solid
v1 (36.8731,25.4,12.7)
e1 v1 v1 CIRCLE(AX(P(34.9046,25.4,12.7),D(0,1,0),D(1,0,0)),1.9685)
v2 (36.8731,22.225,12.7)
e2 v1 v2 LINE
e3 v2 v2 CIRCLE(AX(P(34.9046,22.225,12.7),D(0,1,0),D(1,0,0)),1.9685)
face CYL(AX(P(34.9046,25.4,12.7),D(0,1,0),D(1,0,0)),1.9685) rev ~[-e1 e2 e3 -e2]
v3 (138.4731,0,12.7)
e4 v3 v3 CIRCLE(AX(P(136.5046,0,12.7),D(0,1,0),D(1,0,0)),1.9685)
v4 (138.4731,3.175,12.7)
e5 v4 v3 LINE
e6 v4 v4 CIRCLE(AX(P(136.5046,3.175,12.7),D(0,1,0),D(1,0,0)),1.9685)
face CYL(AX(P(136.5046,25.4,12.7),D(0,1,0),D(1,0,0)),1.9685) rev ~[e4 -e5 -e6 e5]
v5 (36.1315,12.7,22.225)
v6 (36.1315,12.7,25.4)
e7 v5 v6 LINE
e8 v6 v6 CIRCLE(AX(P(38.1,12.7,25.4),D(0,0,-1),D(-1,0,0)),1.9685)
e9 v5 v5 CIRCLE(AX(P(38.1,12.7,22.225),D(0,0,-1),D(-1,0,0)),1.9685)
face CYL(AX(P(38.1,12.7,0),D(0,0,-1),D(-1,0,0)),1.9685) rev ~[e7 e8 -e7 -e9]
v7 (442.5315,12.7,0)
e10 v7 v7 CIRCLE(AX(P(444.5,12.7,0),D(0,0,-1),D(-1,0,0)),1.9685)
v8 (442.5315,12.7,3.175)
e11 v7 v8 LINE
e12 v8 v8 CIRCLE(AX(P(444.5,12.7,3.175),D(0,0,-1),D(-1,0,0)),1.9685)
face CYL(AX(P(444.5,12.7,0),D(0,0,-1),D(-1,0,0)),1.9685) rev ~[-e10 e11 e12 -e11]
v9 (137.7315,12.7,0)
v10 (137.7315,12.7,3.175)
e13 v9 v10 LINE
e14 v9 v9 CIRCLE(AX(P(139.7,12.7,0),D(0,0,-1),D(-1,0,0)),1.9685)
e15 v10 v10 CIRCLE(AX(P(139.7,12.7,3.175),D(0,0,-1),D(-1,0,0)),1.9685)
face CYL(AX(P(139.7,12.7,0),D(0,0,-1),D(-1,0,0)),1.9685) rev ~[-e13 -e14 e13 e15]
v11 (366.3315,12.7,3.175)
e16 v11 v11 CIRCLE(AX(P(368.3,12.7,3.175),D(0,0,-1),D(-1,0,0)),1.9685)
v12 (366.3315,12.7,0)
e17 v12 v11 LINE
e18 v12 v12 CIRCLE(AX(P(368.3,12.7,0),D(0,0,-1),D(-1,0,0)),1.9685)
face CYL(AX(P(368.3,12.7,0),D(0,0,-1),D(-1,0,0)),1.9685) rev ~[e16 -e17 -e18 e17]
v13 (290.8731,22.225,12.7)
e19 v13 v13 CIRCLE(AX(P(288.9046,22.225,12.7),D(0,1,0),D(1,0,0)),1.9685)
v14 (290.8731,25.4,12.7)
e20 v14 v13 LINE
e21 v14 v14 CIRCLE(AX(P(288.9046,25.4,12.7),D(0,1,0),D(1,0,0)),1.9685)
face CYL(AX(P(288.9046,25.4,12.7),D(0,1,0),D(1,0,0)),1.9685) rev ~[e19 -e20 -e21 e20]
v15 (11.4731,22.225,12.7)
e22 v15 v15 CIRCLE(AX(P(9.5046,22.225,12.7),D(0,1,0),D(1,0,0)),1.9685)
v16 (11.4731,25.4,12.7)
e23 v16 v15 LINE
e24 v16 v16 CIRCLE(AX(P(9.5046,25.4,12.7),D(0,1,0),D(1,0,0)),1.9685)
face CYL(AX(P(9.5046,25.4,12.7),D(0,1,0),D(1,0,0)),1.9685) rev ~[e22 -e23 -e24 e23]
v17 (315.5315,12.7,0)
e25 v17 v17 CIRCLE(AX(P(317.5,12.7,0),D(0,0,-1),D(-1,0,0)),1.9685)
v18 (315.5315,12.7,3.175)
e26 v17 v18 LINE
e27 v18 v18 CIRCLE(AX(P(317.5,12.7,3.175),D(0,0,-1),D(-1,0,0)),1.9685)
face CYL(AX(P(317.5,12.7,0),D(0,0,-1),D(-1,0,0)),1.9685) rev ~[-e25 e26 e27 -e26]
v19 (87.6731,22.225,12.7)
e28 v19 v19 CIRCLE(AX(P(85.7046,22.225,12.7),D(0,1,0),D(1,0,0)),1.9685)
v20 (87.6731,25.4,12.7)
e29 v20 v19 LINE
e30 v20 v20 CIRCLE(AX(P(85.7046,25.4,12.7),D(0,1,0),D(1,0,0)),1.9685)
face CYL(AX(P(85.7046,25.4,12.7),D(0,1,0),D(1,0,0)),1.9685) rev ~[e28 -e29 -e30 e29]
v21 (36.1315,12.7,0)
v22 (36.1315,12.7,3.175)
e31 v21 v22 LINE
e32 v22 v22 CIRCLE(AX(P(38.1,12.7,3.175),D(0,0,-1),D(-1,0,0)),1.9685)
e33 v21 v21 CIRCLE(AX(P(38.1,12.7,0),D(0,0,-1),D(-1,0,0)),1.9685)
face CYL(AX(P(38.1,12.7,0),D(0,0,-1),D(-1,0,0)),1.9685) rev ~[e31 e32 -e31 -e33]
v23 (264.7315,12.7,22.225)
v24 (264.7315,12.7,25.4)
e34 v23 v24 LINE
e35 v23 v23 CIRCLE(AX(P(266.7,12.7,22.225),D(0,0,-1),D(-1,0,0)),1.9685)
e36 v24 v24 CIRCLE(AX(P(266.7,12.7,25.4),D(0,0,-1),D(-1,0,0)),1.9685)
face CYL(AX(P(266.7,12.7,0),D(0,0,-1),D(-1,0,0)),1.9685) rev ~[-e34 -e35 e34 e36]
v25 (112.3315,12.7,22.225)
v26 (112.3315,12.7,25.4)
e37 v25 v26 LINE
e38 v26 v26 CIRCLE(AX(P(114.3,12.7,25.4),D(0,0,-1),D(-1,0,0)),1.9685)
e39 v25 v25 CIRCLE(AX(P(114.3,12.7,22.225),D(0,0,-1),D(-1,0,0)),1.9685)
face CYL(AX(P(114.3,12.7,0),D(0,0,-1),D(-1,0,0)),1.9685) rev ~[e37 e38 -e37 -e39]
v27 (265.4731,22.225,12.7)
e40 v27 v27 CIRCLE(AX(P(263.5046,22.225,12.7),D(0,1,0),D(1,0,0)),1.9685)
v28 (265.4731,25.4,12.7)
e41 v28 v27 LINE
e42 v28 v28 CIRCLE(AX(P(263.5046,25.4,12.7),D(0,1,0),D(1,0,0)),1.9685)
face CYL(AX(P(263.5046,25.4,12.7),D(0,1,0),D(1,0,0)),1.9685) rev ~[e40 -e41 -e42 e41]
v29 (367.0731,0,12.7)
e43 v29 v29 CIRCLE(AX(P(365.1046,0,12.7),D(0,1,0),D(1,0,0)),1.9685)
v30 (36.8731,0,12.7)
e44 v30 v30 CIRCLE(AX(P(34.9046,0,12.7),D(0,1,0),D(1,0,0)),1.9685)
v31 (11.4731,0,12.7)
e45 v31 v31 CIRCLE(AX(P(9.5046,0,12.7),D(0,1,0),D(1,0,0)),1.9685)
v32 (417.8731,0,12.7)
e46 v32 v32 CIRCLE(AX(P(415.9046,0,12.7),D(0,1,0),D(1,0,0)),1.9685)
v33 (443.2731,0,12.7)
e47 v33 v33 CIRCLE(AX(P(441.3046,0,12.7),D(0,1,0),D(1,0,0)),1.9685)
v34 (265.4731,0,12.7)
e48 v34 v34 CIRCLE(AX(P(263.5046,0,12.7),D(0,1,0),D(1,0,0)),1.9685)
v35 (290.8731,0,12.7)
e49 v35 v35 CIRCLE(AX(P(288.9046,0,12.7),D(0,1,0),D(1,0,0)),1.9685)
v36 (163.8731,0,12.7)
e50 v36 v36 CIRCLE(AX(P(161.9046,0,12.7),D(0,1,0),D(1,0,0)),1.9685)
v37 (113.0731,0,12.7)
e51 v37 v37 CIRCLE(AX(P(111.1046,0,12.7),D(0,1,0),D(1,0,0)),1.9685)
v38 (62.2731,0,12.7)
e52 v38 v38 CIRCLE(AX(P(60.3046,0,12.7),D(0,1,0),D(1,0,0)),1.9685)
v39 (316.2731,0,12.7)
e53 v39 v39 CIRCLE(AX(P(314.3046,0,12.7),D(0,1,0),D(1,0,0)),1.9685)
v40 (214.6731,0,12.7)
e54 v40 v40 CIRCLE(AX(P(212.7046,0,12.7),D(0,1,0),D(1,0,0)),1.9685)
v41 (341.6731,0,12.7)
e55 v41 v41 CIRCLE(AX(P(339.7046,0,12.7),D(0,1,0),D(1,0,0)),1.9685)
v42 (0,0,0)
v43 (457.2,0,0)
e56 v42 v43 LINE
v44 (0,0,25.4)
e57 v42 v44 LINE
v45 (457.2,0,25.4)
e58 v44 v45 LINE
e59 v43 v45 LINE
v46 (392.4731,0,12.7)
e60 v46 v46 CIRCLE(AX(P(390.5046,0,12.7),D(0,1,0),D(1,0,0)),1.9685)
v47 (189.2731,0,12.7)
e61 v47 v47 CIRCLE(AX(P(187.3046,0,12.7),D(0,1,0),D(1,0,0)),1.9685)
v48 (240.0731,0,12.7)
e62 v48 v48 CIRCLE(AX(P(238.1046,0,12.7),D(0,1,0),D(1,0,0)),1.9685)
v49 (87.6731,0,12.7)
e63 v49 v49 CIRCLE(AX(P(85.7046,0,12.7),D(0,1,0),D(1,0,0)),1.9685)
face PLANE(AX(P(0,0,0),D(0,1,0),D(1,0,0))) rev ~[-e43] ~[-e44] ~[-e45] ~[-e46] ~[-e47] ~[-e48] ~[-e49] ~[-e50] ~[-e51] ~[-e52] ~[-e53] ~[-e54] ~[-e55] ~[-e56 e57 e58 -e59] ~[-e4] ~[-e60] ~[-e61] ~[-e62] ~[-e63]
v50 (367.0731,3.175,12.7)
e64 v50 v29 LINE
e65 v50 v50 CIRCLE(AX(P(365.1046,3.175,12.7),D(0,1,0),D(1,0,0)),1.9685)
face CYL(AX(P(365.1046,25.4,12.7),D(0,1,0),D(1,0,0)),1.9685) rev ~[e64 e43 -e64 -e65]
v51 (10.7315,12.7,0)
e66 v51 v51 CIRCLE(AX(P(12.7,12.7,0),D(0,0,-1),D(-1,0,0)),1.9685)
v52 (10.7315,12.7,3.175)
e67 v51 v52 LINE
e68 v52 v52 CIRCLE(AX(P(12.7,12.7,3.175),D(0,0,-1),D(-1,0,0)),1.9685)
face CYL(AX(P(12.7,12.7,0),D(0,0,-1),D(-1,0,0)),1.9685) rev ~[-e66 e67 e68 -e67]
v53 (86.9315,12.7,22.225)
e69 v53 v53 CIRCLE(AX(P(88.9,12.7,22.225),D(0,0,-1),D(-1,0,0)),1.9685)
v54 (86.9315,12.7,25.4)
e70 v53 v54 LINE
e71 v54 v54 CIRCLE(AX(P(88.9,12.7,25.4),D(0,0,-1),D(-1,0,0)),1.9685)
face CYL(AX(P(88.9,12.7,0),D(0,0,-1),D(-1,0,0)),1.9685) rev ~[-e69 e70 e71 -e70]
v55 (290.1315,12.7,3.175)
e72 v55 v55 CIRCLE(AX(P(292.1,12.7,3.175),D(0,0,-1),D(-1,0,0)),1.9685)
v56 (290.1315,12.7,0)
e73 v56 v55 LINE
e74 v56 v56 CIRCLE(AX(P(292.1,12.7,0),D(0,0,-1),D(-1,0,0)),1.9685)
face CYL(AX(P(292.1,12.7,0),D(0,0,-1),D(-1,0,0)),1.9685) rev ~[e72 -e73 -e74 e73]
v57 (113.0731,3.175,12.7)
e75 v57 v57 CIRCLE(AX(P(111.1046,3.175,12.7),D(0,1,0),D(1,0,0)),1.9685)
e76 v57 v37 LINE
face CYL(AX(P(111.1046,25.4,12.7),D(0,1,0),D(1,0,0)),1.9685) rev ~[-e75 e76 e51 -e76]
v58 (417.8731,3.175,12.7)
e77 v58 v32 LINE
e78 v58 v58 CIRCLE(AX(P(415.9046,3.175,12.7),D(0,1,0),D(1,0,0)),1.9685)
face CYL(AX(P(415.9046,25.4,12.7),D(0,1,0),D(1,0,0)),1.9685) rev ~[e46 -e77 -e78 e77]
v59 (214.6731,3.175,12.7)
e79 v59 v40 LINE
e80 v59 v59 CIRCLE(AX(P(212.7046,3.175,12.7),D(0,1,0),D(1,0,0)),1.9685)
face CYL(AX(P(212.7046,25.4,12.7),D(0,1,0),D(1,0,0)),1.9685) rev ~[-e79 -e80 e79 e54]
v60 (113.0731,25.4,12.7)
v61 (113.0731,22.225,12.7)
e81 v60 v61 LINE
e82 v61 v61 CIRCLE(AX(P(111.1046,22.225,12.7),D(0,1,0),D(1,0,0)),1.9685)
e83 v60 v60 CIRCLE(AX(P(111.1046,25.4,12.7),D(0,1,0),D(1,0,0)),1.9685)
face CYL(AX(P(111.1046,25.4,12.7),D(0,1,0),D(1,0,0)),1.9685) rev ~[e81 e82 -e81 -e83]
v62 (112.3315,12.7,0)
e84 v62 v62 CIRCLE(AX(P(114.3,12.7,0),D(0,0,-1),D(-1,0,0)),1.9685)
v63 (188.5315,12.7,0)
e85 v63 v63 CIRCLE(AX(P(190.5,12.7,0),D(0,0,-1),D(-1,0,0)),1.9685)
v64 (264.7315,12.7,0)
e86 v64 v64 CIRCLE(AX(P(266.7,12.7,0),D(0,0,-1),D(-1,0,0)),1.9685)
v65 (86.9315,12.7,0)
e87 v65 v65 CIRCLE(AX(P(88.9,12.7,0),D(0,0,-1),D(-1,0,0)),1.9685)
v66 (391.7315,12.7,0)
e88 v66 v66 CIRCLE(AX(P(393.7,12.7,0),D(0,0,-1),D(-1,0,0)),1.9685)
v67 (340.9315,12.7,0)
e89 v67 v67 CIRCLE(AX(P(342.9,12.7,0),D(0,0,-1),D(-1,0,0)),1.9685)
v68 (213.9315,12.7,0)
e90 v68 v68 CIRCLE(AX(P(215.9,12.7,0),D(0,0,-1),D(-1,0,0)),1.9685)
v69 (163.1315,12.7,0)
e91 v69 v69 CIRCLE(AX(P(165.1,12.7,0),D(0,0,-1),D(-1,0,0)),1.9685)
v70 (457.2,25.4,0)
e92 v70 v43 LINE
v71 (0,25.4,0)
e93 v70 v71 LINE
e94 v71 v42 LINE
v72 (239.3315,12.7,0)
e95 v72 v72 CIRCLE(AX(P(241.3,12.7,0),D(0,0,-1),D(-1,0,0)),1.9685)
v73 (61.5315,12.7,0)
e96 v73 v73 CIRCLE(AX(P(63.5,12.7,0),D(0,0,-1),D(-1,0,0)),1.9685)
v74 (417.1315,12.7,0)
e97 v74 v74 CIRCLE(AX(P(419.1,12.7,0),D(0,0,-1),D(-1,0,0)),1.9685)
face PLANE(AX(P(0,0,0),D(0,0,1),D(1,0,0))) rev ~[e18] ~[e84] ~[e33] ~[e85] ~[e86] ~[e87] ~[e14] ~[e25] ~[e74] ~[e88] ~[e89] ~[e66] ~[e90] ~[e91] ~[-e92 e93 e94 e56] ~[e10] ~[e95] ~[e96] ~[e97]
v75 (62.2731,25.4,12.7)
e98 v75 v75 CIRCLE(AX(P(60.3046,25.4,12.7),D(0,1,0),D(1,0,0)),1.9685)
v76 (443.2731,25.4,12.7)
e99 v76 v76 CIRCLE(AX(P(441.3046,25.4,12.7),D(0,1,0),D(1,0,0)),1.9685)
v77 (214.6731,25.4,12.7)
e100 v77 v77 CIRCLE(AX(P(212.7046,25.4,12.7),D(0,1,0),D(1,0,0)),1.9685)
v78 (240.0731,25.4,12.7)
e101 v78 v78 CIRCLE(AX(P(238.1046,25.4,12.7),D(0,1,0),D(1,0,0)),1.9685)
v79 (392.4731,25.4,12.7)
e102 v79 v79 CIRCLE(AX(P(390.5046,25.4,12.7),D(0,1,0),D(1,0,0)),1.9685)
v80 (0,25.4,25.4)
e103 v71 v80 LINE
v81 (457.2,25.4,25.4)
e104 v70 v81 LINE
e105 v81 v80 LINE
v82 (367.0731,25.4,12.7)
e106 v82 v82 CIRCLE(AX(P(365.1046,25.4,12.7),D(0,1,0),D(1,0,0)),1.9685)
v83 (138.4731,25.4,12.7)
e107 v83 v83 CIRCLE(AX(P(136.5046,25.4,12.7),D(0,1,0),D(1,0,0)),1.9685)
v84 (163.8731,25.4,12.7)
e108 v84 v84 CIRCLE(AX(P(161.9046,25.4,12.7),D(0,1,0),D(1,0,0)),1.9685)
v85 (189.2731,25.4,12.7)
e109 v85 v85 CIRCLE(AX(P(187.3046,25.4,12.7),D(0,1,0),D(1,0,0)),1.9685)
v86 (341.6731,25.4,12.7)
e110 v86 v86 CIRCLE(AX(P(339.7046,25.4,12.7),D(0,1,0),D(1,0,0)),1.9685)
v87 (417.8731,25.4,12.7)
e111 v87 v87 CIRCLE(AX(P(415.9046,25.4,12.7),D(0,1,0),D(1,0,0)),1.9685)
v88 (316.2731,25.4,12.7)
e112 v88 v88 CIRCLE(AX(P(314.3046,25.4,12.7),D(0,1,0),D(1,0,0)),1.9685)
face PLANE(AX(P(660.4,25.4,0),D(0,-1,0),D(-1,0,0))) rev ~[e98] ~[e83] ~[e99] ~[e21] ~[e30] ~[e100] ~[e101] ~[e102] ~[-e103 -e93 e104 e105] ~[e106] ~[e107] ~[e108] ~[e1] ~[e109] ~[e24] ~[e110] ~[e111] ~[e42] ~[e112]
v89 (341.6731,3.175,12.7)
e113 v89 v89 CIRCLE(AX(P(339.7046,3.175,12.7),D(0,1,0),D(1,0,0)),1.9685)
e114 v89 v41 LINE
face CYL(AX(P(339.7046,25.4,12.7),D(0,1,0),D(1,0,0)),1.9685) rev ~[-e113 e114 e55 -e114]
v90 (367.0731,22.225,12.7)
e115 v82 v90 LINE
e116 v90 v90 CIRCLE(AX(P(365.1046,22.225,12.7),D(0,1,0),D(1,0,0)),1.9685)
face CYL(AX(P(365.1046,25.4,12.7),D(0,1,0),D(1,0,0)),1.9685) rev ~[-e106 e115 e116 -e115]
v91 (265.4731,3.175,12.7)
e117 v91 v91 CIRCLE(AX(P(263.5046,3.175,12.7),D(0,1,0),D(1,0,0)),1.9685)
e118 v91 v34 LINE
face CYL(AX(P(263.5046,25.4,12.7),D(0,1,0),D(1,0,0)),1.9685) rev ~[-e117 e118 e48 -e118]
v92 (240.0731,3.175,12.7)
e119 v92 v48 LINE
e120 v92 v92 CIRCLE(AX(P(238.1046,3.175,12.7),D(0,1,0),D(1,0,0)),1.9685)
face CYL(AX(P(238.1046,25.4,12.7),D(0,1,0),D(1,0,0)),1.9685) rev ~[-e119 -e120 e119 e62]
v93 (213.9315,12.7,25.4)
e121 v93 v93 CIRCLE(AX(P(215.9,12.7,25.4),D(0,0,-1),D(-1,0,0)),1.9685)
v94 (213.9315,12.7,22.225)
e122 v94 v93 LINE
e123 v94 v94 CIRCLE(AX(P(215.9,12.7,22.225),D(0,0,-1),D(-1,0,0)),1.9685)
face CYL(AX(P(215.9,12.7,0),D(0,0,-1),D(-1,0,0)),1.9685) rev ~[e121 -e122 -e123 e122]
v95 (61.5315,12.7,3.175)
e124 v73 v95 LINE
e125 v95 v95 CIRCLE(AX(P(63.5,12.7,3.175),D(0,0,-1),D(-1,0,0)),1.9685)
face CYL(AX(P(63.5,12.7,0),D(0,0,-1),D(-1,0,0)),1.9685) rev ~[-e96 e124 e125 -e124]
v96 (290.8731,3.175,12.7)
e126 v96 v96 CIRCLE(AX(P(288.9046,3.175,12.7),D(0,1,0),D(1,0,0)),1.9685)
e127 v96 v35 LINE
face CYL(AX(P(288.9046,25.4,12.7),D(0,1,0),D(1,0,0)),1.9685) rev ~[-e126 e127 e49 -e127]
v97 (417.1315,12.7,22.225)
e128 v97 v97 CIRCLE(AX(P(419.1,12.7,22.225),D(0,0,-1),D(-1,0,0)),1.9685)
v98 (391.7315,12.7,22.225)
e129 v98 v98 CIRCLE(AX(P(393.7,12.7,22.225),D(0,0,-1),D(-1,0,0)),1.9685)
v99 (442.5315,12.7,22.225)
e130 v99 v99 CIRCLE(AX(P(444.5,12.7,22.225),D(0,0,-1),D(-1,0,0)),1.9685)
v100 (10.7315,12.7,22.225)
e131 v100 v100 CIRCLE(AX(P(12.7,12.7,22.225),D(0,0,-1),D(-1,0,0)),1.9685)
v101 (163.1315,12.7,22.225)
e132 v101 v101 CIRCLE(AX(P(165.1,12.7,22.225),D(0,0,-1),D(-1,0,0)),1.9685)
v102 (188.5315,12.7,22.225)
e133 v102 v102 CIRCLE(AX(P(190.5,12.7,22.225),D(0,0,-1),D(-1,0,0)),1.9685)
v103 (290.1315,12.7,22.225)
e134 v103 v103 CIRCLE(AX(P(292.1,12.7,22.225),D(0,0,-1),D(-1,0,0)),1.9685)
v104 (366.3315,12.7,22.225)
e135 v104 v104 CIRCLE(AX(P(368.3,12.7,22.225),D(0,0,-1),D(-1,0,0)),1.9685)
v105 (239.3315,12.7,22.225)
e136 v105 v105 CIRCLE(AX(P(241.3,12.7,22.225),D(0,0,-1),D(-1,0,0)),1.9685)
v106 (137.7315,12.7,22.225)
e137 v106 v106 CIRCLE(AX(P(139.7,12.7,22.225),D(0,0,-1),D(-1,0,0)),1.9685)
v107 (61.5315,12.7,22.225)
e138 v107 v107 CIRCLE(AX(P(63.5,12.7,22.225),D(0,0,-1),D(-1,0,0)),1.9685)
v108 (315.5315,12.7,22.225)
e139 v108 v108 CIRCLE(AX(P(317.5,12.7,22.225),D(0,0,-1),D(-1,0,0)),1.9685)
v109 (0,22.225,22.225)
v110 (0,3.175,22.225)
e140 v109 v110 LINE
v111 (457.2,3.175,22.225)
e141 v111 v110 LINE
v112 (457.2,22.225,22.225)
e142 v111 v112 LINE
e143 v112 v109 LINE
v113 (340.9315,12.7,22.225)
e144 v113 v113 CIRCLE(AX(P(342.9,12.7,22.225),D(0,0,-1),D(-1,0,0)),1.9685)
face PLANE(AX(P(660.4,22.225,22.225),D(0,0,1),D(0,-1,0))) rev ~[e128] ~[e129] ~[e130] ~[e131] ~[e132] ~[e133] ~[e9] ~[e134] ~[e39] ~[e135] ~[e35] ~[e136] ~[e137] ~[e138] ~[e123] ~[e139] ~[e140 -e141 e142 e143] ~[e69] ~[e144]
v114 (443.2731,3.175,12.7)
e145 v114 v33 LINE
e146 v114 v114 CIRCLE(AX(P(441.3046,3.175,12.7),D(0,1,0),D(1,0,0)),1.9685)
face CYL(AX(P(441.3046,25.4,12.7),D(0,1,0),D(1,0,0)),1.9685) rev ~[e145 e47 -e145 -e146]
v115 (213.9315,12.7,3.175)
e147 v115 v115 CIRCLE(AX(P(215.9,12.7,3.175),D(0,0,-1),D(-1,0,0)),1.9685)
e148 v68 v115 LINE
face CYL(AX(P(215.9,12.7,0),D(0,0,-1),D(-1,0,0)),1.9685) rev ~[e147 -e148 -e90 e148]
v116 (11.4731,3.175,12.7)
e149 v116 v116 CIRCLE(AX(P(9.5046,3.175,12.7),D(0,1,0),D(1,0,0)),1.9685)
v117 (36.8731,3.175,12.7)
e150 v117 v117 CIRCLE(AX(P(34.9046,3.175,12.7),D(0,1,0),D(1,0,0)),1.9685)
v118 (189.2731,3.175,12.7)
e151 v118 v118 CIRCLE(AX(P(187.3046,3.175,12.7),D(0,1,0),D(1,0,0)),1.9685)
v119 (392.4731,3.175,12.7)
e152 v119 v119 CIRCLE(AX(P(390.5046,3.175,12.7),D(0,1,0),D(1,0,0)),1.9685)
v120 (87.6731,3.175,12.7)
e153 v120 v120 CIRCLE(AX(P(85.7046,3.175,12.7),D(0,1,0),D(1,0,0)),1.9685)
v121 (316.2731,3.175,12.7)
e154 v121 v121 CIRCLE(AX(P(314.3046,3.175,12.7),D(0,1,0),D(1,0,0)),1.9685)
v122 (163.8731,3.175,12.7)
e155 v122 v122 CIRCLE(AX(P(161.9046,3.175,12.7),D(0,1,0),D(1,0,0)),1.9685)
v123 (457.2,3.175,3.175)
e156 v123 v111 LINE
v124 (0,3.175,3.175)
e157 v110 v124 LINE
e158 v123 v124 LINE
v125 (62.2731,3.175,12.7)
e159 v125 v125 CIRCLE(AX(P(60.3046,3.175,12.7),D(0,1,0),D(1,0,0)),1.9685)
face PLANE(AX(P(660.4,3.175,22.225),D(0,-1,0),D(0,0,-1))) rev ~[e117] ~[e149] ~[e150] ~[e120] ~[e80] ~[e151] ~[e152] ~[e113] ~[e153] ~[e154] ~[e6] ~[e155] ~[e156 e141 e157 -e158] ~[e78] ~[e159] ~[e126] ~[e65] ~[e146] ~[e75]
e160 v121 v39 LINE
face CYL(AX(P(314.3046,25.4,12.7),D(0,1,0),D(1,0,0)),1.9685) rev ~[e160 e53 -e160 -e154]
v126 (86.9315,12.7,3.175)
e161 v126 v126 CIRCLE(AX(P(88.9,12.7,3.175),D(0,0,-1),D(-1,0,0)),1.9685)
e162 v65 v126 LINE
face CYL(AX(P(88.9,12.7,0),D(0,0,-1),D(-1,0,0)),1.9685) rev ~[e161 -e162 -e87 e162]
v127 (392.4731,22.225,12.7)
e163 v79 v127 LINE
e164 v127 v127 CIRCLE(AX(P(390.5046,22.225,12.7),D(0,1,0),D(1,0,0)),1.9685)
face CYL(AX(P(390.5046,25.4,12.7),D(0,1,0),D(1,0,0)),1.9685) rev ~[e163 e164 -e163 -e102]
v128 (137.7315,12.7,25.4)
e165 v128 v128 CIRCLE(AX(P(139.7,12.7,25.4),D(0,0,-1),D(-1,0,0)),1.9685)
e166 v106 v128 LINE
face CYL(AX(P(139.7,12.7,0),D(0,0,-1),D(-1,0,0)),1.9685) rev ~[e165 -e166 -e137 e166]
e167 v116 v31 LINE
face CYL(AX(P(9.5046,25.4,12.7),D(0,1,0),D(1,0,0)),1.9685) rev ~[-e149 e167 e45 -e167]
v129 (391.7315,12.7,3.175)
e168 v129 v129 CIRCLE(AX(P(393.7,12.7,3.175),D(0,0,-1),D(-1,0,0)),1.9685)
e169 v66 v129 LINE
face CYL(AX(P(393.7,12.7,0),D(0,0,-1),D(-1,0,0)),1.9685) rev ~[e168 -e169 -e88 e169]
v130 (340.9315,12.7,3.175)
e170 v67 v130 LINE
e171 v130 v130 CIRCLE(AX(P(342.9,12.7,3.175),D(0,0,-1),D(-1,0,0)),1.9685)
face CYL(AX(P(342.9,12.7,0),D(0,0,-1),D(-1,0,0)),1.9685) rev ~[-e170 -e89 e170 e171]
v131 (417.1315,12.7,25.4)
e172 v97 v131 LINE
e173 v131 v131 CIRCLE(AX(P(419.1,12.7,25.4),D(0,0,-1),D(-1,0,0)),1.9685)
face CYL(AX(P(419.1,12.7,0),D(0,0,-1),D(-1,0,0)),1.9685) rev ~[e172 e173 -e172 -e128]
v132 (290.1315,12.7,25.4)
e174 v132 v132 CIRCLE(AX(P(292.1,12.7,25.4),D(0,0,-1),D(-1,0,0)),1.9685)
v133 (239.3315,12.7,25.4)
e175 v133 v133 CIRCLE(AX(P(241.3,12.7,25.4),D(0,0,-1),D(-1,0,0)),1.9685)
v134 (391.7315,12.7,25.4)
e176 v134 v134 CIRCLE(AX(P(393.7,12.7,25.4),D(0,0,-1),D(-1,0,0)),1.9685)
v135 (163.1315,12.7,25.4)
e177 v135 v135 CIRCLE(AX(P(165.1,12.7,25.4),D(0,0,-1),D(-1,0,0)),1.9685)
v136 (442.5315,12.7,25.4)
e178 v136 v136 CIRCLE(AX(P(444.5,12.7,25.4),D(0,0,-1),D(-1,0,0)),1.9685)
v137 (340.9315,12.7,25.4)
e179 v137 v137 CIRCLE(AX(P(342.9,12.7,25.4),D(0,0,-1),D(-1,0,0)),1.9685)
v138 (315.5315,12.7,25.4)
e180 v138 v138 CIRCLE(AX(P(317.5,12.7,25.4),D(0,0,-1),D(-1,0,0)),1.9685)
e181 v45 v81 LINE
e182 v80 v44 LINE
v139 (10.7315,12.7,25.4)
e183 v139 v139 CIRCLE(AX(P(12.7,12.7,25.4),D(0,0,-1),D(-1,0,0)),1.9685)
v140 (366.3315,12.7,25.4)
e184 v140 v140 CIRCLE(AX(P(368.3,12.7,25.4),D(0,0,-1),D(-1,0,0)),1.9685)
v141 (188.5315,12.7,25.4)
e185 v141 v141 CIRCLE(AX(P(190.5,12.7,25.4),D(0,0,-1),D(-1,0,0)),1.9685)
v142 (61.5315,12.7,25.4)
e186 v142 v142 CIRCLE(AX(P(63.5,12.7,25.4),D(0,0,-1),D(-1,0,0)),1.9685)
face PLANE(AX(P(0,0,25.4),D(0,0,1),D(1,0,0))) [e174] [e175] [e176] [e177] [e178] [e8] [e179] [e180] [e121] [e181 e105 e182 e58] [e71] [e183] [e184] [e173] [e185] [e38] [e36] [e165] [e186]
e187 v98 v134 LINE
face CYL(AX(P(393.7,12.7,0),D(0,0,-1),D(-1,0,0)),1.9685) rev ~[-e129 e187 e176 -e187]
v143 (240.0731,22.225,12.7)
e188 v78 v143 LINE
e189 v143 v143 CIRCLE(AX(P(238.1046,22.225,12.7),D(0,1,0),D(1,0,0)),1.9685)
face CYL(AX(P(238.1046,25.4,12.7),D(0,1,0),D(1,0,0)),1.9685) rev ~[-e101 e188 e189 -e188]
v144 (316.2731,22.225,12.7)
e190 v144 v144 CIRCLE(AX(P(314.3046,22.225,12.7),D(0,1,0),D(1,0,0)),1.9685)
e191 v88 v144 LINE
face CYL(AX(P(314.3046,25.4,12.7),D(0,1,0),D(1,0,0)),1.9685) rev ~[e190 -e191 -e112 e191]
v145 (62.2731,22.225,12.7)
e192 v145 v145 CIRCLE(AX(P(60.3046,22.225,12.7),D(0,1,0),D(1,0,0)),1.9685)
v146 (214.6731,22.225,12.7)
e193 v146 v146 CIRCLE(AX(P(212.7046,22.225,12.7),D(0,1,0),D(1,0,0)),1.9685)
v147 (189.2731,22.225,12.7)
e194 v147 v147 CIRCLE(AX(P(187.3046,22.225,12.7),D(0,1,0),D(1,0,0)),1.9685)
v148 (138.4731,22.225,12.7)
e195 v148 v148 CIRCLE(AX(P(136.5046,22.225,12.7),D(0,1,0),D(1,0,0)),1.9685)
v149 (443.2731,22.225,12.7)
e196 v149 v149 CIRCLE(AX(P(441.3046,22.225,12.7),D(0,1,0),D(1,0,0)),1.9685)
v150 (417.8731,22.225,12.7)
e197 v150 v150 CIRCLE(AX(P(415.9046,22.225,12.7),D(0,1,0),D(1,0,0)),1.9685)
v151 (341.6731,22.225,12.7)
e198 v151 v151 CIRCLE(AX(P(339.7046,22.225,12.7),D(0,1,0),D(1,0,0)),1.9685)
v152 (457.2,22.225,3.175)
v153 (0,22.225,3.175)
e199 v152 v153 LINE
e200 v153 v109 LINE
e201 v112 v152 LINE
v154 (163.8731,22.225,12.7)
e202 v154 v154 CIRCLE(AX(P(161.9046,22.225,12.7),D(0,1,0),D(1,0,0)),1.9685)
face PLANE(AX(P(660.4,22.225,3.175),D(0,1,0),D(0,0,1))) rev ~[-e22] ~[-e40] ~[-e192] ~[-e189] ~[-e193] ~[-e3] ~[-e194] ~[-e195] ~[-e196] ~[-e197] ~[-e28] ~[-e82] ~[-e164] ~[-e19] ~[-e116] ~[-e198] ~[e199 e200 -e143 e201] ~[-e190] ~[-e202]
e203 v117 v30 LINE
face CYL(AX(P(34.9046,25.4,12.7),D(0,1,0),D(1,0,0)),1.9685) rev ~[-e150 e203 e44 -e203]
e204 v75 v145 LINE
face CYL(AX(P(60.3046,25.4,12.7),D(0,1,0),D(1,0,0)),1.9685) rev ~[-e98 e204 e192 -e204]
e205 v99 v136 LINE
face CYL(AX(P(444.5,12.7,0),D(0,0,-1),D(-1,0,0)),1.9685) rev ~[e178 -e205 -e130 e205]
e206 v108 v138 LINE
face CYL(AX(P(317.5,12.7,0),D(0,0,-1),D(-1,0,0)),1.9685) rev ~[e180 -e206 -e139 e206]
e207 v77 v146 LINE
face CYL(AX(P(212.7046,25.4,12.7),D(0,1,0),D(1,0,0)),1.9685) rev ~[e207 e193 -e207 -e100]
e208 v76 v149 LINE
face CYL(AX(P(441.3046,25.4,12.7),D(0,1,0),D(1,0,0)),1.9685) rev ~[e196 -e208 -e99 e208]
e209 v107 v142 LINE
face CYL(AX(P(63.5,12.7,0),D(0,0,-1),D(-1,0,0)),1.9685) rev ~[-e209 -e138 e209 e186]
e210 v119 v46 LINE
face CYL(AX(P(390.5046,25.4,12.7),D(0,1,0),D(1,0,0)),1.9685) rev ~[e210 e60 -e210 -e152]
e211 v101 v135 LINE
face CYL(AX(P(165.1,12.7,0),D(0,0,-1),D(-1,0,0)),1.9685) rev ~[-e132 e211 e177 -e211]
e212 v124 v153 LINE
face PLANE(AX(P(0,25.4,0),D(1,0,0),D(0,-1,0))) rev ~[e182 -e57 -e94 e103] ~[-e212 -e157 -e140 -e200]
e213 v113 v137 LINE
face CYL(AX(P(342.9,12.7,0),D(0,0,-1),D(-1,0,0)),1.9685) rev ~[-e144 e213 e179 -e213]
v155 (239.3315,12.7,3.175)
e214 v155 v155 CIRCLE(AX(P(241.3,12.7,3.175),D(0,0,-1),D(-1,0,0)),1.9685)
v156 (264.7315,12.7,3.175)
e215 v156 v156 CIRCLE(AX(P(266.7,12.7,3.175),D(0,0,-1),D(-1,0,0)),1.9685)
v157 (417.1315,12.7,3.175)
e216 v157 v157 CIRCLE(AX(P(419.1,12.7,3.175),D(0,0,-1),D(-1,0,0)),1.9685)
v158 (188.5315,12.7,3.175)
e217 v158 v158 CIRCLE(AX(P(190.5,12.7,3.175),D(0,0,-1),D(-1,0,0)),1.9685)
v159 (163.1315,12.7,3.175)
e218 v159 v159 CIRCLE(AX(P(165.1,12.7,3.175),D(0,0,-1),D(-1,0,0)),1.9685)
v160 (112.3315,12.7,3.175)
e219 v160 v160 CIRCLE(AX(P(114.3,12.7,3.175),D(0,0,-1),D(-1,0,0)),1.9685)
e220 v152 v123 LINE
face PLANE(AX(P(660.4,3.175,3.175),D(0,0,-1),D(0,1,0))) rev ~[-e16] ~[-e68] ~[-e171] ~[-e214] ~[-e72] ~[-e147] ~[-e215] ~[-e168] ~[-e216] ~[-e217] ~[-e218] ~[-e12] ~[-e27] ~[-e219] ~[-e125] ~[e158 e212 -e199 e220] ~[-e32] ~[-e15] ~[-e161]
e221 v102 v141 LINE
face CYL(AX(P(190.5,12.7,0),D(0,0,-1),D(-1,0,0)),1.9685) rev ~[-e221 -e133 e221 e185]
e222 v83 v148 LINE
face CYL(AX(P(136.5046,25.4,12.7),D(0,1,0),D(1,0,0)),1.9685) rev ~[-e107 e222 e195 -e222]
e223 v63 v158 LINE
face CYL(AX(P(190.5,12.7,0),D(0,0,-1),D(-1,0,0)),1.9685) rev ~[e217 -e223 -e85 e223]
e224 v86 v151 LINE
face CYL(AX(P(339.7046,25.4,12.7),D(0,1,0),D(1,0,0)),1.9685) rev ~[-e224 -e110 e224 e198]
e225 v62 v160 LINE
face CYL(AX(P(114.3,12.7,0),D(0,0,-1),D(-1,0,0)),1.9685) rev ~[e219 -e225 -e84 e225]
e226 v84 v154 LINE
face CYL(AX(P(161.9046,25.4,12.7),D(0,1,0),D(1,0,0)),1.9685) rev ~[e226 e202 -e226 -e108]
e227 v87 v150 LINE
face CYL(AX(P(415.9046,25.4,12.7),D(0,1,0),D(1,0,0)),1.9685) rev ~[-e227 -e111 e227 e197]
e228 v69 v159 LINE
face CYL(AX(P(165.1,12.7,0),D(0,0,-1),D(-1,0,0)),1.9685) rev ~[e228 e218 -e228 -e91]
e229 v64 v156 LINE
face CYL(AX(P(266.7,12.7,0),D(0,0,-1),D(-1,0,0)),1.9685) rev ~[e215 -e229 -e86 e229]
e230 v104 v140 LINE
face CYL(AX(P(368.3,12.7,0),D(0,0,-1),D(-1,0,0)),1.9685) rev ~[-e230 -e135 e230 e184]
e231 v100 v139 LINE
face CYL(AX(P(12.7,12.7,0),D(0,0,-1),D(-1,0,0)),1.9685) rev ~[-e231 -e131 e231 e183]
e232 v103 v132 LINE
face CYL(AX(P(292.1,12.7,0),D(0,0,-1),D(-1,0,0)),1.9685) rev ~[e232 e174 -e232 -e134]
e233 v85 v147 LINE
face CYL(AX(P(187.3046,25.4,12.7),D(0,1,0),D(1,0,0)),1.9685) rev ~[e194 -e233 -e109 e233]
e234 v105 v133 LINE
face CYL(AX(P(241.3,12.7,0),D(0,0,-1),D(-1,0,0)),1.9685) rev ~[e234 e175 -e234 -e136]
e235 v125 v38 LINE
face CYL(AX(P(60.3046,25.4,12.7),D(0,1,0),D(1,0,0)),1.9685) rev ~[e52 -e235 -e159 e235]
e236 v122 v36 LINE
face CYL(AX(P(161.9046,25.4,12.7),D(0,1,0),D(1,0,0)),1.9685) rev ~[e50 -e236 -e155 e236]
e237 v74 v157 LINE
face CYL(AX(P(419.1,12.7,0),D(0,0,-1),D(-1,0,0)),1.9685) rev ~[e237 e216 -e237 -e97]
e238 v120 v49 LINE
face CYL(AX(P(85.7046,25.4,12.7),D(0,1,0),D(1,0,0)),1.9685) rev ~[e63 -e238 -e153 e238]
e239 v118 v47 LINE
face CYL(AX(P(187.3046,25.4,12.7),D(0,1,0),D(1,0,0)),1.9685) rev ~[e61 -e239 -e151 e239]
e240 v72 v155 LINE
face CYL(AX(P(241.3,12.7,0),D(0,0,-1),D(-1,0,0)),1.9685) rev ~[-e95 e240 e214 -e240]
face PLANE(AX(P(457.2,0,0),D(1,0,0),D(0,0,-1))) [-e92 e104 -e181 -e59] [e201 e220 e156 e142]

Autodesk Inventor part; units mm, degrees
ref_plane "YZ Plane" through (0, 0, 0) normal (1, 0, 0) x (0, 1, 0)
ref_plane "XZ Plane" through (0, 0, 0) normal (0, 1, 0) x (-1, 0, 0)
ref_plane "XY Plane" through (0, 0, 0) normal (0, 0, 1) x (1, 0, 0)
sketch "Sketch1" plane through (0, 0, 0) normal (0, 0, 1) x (1, 0, 0)
  line L0 (0, 0) -> (660.4, 0)
  line L1 (660.4, 0) -> (660.4, 25.4)
  line L2 (660.4, 25.4) -> (0, 25.4)
  line L3 (0, 25.4) -> (0, 0)
  dimension "d0" = 660.4
  dimension "d1" = 25.4
extrude "Extrusion1" add sketch "Sketch1" along normal blind 25.4
sketch "Sketch2" plane through (0, 25.4, 0) normal (0, 1, 0) x (1, 0, 0)
  circle A0 centre (9.5046, -12.7) radius 1.9685
  line L0 (660.4, 0) -> (0, 0) projected
  circle A1 centre (34.9046, -12.7) radius 1.9685
  circle A2 centre (60.3046, -12.7) radius 1.9685
  circle A3 centre (85.7046, -12.7) radius 1.9685
  circle A4 centre (111.1046, -12.7) radius 1.9685
  circle A5 centre (136.5046, -12.7) radius 1.9685
  circle A6 centre (161.9046, -12.7) radius 1.9685
  circle A7 centre (187.3046, -12.7) radius 1.9685
  circle A8 centre (212.7046, -12.7) radius 1.9685
  circle A9 centre (238.1046, -12.7) radius 1.9685
  circle A10 centre (263.5046, -12.7) radius 1.9685
  circle A11 centre (288.9046, -12.7) radius 1.9685
  circle A12 centre (314.3046, -12.7) radius 1.9685
  circle A13 centre (339.7046, -12.7) radius 1.9685
  circle A14 centre (365.1046, -12.7) radius 1.9685
  circle A15 centre (390.5046, -12.7) radius 1.9685
  circle A16 centre (415.9046, -12.7) radius 1.9685
  circle A17 centre (441.3046, -12.7) radius 1.9685
  circle A18 centre (466.7046, -12.7) radius 1.9685
  circle A19 centre (492.1046, -12.7) radius 1.9685
  circle A20 centre (517.5046, -12.7) radius 1.9685
  circle A21 centre (542.9046, -12.7) radius 1.9685
  circle A22 centre (568.3046, -12.7) radius 1.9685
  circle A23 centre (593.7046, -12.7) radius 1.9685
  circle A24 centre (619.1046, -12.7) radius 1.9685
  circle A25 centre (644.5046, -12.7) radius 1.9685
  dimension "d4" = 3.937
  dimension "d5" = 12.7
  dimension "d8" = 25.4
extrude "Extrusion2" cut sketch "Sketch2" against normal blind 25.4
sketch "Sketch3" plane through (660.4, 0, 0) normal (1, 0, 0) x (0, 0, -1)
  line L0 (-3.175, 22.225) -> (-22.225, 22.225)
  line L1 (-22.225, 22.225) -> (-22.225, 3.175)
  line L2 (-22.225, 3.175) -> (-3.175, 3.175)
  line L3 (-3.175, 3.175) -> (-3.175, 22.225)
  line L4 (0, 25.4) -> (-25.4, 25.4) projected
  line L5 (0, 0) -> (0, 25.4) projected
  line L6 (0, 0) -> (-25.4, 0) projected
  line L7 (-25.4, 0) -> (-25.4, 25.4) projected
  dimension "d15" = 3.175
  dimension "d16" = 3.175
  dimension "d17" = 3.175
  dimension "d18" = 3.175
extrude "Extrusion3" cut sketch "Sketch3" against normal blind 660.4 contours L3 L2 L1 L0
sketch "Sketch4" plane through (0, 0, 0) normal (0, 0, -1) x (-1, 0, 0)
  circle A0 centre (-12.7, 12.7) radius 1.9685
  line L0 (-660.4, 25.4) -> (0, 25.4) projected
  line L1 (0, 25.4) -> (0, 0) projected
  circle A1 centre (-38.1, 12.7) radius 1.9685
  circle A2 centre (-63.5, 12.7) radius 1.9685
  circle A3 centre (-88.9, 12.7) radius 1.9685
  circle A4 centre (-114.3, 12.7) radius 1.9685
  circle A5 centre (-139.7, 12.7) radius 1.9685
  circle A6 centre (-165.1, 12.7) radius 1.9685
  circle A7 centre (-190.5, 12.7) radius 1.9685
  circle A8 centre (-215.9, 12.7) radius 1.9685
  circle A9 centre (-241.3, 12.7) radius 1.9685
  circle A10 centre (-266.7, 12.7) radius 1.9685
  circle A11 centre (-292.1, 12.7) radius 1.9685
  circle A12 centre (-317.5, 12.7) radius 1.9685
  circle A13 centre (-342.9, 12.7) radius 1.9685
  circle A14 centre (-368.3, 12.7) radius 1.9685
  circle A15 centre (-393.7, 12.7) radius 1.9685
  circle A16 centre (-419.1, 12.7) radius 1.9685
  circle A17 centre (-444.5, 12.7) radius 1.9685
  circle A18 centre (-469.9, 12.7) radius 1.9685
  circle A19 centre (-495.3, 12.7) radius 1.9685
  circle A20 centre (-520.7, 12.7) radius 1.9685
  circle A21 centre (-546.1, 12.7) radius 1.9685
  circle A22 centre (-571.5, 12.7) radius 1.9685
  circle A23 centre (-596.9, 12.7) radius 1.9685
  circle A24 centre (-622.3, 12.7) radius 1.9685
  circle A25 centre (-647.7, 12.7) radius 1.9685
  dimension "d21" = 3.937
  dimension "d22" = 12.7
  dimension "d23" = 12.7
  dimension "d26" = 25.4
extrude "Extrusion4" cut sketch "Sketch4" against normal blind 25.4
sketch "Sketch5" plane through (660.4, 0, 0) normal (1, 0, 0) x (0, 0, -1)
  line L0 (0, 25.4) -> (-25.4, 25.4) projected
  line L1 (0, 0) -> (-25.4, 0) projected
  line L2 (-25.4, 25.4) -> (0, 25.4)
  line L3 (0, 25.4) -> (0, 0)
  line L4 (0, 0) -> (-25.4, 0)
  line L5 (-25.4, 0) -> (-25.4, 25.4)
extrude "Extrusion5" cut sketch "Sketch5" against normal blind 203.2
properties part number "kermit frame 4"
